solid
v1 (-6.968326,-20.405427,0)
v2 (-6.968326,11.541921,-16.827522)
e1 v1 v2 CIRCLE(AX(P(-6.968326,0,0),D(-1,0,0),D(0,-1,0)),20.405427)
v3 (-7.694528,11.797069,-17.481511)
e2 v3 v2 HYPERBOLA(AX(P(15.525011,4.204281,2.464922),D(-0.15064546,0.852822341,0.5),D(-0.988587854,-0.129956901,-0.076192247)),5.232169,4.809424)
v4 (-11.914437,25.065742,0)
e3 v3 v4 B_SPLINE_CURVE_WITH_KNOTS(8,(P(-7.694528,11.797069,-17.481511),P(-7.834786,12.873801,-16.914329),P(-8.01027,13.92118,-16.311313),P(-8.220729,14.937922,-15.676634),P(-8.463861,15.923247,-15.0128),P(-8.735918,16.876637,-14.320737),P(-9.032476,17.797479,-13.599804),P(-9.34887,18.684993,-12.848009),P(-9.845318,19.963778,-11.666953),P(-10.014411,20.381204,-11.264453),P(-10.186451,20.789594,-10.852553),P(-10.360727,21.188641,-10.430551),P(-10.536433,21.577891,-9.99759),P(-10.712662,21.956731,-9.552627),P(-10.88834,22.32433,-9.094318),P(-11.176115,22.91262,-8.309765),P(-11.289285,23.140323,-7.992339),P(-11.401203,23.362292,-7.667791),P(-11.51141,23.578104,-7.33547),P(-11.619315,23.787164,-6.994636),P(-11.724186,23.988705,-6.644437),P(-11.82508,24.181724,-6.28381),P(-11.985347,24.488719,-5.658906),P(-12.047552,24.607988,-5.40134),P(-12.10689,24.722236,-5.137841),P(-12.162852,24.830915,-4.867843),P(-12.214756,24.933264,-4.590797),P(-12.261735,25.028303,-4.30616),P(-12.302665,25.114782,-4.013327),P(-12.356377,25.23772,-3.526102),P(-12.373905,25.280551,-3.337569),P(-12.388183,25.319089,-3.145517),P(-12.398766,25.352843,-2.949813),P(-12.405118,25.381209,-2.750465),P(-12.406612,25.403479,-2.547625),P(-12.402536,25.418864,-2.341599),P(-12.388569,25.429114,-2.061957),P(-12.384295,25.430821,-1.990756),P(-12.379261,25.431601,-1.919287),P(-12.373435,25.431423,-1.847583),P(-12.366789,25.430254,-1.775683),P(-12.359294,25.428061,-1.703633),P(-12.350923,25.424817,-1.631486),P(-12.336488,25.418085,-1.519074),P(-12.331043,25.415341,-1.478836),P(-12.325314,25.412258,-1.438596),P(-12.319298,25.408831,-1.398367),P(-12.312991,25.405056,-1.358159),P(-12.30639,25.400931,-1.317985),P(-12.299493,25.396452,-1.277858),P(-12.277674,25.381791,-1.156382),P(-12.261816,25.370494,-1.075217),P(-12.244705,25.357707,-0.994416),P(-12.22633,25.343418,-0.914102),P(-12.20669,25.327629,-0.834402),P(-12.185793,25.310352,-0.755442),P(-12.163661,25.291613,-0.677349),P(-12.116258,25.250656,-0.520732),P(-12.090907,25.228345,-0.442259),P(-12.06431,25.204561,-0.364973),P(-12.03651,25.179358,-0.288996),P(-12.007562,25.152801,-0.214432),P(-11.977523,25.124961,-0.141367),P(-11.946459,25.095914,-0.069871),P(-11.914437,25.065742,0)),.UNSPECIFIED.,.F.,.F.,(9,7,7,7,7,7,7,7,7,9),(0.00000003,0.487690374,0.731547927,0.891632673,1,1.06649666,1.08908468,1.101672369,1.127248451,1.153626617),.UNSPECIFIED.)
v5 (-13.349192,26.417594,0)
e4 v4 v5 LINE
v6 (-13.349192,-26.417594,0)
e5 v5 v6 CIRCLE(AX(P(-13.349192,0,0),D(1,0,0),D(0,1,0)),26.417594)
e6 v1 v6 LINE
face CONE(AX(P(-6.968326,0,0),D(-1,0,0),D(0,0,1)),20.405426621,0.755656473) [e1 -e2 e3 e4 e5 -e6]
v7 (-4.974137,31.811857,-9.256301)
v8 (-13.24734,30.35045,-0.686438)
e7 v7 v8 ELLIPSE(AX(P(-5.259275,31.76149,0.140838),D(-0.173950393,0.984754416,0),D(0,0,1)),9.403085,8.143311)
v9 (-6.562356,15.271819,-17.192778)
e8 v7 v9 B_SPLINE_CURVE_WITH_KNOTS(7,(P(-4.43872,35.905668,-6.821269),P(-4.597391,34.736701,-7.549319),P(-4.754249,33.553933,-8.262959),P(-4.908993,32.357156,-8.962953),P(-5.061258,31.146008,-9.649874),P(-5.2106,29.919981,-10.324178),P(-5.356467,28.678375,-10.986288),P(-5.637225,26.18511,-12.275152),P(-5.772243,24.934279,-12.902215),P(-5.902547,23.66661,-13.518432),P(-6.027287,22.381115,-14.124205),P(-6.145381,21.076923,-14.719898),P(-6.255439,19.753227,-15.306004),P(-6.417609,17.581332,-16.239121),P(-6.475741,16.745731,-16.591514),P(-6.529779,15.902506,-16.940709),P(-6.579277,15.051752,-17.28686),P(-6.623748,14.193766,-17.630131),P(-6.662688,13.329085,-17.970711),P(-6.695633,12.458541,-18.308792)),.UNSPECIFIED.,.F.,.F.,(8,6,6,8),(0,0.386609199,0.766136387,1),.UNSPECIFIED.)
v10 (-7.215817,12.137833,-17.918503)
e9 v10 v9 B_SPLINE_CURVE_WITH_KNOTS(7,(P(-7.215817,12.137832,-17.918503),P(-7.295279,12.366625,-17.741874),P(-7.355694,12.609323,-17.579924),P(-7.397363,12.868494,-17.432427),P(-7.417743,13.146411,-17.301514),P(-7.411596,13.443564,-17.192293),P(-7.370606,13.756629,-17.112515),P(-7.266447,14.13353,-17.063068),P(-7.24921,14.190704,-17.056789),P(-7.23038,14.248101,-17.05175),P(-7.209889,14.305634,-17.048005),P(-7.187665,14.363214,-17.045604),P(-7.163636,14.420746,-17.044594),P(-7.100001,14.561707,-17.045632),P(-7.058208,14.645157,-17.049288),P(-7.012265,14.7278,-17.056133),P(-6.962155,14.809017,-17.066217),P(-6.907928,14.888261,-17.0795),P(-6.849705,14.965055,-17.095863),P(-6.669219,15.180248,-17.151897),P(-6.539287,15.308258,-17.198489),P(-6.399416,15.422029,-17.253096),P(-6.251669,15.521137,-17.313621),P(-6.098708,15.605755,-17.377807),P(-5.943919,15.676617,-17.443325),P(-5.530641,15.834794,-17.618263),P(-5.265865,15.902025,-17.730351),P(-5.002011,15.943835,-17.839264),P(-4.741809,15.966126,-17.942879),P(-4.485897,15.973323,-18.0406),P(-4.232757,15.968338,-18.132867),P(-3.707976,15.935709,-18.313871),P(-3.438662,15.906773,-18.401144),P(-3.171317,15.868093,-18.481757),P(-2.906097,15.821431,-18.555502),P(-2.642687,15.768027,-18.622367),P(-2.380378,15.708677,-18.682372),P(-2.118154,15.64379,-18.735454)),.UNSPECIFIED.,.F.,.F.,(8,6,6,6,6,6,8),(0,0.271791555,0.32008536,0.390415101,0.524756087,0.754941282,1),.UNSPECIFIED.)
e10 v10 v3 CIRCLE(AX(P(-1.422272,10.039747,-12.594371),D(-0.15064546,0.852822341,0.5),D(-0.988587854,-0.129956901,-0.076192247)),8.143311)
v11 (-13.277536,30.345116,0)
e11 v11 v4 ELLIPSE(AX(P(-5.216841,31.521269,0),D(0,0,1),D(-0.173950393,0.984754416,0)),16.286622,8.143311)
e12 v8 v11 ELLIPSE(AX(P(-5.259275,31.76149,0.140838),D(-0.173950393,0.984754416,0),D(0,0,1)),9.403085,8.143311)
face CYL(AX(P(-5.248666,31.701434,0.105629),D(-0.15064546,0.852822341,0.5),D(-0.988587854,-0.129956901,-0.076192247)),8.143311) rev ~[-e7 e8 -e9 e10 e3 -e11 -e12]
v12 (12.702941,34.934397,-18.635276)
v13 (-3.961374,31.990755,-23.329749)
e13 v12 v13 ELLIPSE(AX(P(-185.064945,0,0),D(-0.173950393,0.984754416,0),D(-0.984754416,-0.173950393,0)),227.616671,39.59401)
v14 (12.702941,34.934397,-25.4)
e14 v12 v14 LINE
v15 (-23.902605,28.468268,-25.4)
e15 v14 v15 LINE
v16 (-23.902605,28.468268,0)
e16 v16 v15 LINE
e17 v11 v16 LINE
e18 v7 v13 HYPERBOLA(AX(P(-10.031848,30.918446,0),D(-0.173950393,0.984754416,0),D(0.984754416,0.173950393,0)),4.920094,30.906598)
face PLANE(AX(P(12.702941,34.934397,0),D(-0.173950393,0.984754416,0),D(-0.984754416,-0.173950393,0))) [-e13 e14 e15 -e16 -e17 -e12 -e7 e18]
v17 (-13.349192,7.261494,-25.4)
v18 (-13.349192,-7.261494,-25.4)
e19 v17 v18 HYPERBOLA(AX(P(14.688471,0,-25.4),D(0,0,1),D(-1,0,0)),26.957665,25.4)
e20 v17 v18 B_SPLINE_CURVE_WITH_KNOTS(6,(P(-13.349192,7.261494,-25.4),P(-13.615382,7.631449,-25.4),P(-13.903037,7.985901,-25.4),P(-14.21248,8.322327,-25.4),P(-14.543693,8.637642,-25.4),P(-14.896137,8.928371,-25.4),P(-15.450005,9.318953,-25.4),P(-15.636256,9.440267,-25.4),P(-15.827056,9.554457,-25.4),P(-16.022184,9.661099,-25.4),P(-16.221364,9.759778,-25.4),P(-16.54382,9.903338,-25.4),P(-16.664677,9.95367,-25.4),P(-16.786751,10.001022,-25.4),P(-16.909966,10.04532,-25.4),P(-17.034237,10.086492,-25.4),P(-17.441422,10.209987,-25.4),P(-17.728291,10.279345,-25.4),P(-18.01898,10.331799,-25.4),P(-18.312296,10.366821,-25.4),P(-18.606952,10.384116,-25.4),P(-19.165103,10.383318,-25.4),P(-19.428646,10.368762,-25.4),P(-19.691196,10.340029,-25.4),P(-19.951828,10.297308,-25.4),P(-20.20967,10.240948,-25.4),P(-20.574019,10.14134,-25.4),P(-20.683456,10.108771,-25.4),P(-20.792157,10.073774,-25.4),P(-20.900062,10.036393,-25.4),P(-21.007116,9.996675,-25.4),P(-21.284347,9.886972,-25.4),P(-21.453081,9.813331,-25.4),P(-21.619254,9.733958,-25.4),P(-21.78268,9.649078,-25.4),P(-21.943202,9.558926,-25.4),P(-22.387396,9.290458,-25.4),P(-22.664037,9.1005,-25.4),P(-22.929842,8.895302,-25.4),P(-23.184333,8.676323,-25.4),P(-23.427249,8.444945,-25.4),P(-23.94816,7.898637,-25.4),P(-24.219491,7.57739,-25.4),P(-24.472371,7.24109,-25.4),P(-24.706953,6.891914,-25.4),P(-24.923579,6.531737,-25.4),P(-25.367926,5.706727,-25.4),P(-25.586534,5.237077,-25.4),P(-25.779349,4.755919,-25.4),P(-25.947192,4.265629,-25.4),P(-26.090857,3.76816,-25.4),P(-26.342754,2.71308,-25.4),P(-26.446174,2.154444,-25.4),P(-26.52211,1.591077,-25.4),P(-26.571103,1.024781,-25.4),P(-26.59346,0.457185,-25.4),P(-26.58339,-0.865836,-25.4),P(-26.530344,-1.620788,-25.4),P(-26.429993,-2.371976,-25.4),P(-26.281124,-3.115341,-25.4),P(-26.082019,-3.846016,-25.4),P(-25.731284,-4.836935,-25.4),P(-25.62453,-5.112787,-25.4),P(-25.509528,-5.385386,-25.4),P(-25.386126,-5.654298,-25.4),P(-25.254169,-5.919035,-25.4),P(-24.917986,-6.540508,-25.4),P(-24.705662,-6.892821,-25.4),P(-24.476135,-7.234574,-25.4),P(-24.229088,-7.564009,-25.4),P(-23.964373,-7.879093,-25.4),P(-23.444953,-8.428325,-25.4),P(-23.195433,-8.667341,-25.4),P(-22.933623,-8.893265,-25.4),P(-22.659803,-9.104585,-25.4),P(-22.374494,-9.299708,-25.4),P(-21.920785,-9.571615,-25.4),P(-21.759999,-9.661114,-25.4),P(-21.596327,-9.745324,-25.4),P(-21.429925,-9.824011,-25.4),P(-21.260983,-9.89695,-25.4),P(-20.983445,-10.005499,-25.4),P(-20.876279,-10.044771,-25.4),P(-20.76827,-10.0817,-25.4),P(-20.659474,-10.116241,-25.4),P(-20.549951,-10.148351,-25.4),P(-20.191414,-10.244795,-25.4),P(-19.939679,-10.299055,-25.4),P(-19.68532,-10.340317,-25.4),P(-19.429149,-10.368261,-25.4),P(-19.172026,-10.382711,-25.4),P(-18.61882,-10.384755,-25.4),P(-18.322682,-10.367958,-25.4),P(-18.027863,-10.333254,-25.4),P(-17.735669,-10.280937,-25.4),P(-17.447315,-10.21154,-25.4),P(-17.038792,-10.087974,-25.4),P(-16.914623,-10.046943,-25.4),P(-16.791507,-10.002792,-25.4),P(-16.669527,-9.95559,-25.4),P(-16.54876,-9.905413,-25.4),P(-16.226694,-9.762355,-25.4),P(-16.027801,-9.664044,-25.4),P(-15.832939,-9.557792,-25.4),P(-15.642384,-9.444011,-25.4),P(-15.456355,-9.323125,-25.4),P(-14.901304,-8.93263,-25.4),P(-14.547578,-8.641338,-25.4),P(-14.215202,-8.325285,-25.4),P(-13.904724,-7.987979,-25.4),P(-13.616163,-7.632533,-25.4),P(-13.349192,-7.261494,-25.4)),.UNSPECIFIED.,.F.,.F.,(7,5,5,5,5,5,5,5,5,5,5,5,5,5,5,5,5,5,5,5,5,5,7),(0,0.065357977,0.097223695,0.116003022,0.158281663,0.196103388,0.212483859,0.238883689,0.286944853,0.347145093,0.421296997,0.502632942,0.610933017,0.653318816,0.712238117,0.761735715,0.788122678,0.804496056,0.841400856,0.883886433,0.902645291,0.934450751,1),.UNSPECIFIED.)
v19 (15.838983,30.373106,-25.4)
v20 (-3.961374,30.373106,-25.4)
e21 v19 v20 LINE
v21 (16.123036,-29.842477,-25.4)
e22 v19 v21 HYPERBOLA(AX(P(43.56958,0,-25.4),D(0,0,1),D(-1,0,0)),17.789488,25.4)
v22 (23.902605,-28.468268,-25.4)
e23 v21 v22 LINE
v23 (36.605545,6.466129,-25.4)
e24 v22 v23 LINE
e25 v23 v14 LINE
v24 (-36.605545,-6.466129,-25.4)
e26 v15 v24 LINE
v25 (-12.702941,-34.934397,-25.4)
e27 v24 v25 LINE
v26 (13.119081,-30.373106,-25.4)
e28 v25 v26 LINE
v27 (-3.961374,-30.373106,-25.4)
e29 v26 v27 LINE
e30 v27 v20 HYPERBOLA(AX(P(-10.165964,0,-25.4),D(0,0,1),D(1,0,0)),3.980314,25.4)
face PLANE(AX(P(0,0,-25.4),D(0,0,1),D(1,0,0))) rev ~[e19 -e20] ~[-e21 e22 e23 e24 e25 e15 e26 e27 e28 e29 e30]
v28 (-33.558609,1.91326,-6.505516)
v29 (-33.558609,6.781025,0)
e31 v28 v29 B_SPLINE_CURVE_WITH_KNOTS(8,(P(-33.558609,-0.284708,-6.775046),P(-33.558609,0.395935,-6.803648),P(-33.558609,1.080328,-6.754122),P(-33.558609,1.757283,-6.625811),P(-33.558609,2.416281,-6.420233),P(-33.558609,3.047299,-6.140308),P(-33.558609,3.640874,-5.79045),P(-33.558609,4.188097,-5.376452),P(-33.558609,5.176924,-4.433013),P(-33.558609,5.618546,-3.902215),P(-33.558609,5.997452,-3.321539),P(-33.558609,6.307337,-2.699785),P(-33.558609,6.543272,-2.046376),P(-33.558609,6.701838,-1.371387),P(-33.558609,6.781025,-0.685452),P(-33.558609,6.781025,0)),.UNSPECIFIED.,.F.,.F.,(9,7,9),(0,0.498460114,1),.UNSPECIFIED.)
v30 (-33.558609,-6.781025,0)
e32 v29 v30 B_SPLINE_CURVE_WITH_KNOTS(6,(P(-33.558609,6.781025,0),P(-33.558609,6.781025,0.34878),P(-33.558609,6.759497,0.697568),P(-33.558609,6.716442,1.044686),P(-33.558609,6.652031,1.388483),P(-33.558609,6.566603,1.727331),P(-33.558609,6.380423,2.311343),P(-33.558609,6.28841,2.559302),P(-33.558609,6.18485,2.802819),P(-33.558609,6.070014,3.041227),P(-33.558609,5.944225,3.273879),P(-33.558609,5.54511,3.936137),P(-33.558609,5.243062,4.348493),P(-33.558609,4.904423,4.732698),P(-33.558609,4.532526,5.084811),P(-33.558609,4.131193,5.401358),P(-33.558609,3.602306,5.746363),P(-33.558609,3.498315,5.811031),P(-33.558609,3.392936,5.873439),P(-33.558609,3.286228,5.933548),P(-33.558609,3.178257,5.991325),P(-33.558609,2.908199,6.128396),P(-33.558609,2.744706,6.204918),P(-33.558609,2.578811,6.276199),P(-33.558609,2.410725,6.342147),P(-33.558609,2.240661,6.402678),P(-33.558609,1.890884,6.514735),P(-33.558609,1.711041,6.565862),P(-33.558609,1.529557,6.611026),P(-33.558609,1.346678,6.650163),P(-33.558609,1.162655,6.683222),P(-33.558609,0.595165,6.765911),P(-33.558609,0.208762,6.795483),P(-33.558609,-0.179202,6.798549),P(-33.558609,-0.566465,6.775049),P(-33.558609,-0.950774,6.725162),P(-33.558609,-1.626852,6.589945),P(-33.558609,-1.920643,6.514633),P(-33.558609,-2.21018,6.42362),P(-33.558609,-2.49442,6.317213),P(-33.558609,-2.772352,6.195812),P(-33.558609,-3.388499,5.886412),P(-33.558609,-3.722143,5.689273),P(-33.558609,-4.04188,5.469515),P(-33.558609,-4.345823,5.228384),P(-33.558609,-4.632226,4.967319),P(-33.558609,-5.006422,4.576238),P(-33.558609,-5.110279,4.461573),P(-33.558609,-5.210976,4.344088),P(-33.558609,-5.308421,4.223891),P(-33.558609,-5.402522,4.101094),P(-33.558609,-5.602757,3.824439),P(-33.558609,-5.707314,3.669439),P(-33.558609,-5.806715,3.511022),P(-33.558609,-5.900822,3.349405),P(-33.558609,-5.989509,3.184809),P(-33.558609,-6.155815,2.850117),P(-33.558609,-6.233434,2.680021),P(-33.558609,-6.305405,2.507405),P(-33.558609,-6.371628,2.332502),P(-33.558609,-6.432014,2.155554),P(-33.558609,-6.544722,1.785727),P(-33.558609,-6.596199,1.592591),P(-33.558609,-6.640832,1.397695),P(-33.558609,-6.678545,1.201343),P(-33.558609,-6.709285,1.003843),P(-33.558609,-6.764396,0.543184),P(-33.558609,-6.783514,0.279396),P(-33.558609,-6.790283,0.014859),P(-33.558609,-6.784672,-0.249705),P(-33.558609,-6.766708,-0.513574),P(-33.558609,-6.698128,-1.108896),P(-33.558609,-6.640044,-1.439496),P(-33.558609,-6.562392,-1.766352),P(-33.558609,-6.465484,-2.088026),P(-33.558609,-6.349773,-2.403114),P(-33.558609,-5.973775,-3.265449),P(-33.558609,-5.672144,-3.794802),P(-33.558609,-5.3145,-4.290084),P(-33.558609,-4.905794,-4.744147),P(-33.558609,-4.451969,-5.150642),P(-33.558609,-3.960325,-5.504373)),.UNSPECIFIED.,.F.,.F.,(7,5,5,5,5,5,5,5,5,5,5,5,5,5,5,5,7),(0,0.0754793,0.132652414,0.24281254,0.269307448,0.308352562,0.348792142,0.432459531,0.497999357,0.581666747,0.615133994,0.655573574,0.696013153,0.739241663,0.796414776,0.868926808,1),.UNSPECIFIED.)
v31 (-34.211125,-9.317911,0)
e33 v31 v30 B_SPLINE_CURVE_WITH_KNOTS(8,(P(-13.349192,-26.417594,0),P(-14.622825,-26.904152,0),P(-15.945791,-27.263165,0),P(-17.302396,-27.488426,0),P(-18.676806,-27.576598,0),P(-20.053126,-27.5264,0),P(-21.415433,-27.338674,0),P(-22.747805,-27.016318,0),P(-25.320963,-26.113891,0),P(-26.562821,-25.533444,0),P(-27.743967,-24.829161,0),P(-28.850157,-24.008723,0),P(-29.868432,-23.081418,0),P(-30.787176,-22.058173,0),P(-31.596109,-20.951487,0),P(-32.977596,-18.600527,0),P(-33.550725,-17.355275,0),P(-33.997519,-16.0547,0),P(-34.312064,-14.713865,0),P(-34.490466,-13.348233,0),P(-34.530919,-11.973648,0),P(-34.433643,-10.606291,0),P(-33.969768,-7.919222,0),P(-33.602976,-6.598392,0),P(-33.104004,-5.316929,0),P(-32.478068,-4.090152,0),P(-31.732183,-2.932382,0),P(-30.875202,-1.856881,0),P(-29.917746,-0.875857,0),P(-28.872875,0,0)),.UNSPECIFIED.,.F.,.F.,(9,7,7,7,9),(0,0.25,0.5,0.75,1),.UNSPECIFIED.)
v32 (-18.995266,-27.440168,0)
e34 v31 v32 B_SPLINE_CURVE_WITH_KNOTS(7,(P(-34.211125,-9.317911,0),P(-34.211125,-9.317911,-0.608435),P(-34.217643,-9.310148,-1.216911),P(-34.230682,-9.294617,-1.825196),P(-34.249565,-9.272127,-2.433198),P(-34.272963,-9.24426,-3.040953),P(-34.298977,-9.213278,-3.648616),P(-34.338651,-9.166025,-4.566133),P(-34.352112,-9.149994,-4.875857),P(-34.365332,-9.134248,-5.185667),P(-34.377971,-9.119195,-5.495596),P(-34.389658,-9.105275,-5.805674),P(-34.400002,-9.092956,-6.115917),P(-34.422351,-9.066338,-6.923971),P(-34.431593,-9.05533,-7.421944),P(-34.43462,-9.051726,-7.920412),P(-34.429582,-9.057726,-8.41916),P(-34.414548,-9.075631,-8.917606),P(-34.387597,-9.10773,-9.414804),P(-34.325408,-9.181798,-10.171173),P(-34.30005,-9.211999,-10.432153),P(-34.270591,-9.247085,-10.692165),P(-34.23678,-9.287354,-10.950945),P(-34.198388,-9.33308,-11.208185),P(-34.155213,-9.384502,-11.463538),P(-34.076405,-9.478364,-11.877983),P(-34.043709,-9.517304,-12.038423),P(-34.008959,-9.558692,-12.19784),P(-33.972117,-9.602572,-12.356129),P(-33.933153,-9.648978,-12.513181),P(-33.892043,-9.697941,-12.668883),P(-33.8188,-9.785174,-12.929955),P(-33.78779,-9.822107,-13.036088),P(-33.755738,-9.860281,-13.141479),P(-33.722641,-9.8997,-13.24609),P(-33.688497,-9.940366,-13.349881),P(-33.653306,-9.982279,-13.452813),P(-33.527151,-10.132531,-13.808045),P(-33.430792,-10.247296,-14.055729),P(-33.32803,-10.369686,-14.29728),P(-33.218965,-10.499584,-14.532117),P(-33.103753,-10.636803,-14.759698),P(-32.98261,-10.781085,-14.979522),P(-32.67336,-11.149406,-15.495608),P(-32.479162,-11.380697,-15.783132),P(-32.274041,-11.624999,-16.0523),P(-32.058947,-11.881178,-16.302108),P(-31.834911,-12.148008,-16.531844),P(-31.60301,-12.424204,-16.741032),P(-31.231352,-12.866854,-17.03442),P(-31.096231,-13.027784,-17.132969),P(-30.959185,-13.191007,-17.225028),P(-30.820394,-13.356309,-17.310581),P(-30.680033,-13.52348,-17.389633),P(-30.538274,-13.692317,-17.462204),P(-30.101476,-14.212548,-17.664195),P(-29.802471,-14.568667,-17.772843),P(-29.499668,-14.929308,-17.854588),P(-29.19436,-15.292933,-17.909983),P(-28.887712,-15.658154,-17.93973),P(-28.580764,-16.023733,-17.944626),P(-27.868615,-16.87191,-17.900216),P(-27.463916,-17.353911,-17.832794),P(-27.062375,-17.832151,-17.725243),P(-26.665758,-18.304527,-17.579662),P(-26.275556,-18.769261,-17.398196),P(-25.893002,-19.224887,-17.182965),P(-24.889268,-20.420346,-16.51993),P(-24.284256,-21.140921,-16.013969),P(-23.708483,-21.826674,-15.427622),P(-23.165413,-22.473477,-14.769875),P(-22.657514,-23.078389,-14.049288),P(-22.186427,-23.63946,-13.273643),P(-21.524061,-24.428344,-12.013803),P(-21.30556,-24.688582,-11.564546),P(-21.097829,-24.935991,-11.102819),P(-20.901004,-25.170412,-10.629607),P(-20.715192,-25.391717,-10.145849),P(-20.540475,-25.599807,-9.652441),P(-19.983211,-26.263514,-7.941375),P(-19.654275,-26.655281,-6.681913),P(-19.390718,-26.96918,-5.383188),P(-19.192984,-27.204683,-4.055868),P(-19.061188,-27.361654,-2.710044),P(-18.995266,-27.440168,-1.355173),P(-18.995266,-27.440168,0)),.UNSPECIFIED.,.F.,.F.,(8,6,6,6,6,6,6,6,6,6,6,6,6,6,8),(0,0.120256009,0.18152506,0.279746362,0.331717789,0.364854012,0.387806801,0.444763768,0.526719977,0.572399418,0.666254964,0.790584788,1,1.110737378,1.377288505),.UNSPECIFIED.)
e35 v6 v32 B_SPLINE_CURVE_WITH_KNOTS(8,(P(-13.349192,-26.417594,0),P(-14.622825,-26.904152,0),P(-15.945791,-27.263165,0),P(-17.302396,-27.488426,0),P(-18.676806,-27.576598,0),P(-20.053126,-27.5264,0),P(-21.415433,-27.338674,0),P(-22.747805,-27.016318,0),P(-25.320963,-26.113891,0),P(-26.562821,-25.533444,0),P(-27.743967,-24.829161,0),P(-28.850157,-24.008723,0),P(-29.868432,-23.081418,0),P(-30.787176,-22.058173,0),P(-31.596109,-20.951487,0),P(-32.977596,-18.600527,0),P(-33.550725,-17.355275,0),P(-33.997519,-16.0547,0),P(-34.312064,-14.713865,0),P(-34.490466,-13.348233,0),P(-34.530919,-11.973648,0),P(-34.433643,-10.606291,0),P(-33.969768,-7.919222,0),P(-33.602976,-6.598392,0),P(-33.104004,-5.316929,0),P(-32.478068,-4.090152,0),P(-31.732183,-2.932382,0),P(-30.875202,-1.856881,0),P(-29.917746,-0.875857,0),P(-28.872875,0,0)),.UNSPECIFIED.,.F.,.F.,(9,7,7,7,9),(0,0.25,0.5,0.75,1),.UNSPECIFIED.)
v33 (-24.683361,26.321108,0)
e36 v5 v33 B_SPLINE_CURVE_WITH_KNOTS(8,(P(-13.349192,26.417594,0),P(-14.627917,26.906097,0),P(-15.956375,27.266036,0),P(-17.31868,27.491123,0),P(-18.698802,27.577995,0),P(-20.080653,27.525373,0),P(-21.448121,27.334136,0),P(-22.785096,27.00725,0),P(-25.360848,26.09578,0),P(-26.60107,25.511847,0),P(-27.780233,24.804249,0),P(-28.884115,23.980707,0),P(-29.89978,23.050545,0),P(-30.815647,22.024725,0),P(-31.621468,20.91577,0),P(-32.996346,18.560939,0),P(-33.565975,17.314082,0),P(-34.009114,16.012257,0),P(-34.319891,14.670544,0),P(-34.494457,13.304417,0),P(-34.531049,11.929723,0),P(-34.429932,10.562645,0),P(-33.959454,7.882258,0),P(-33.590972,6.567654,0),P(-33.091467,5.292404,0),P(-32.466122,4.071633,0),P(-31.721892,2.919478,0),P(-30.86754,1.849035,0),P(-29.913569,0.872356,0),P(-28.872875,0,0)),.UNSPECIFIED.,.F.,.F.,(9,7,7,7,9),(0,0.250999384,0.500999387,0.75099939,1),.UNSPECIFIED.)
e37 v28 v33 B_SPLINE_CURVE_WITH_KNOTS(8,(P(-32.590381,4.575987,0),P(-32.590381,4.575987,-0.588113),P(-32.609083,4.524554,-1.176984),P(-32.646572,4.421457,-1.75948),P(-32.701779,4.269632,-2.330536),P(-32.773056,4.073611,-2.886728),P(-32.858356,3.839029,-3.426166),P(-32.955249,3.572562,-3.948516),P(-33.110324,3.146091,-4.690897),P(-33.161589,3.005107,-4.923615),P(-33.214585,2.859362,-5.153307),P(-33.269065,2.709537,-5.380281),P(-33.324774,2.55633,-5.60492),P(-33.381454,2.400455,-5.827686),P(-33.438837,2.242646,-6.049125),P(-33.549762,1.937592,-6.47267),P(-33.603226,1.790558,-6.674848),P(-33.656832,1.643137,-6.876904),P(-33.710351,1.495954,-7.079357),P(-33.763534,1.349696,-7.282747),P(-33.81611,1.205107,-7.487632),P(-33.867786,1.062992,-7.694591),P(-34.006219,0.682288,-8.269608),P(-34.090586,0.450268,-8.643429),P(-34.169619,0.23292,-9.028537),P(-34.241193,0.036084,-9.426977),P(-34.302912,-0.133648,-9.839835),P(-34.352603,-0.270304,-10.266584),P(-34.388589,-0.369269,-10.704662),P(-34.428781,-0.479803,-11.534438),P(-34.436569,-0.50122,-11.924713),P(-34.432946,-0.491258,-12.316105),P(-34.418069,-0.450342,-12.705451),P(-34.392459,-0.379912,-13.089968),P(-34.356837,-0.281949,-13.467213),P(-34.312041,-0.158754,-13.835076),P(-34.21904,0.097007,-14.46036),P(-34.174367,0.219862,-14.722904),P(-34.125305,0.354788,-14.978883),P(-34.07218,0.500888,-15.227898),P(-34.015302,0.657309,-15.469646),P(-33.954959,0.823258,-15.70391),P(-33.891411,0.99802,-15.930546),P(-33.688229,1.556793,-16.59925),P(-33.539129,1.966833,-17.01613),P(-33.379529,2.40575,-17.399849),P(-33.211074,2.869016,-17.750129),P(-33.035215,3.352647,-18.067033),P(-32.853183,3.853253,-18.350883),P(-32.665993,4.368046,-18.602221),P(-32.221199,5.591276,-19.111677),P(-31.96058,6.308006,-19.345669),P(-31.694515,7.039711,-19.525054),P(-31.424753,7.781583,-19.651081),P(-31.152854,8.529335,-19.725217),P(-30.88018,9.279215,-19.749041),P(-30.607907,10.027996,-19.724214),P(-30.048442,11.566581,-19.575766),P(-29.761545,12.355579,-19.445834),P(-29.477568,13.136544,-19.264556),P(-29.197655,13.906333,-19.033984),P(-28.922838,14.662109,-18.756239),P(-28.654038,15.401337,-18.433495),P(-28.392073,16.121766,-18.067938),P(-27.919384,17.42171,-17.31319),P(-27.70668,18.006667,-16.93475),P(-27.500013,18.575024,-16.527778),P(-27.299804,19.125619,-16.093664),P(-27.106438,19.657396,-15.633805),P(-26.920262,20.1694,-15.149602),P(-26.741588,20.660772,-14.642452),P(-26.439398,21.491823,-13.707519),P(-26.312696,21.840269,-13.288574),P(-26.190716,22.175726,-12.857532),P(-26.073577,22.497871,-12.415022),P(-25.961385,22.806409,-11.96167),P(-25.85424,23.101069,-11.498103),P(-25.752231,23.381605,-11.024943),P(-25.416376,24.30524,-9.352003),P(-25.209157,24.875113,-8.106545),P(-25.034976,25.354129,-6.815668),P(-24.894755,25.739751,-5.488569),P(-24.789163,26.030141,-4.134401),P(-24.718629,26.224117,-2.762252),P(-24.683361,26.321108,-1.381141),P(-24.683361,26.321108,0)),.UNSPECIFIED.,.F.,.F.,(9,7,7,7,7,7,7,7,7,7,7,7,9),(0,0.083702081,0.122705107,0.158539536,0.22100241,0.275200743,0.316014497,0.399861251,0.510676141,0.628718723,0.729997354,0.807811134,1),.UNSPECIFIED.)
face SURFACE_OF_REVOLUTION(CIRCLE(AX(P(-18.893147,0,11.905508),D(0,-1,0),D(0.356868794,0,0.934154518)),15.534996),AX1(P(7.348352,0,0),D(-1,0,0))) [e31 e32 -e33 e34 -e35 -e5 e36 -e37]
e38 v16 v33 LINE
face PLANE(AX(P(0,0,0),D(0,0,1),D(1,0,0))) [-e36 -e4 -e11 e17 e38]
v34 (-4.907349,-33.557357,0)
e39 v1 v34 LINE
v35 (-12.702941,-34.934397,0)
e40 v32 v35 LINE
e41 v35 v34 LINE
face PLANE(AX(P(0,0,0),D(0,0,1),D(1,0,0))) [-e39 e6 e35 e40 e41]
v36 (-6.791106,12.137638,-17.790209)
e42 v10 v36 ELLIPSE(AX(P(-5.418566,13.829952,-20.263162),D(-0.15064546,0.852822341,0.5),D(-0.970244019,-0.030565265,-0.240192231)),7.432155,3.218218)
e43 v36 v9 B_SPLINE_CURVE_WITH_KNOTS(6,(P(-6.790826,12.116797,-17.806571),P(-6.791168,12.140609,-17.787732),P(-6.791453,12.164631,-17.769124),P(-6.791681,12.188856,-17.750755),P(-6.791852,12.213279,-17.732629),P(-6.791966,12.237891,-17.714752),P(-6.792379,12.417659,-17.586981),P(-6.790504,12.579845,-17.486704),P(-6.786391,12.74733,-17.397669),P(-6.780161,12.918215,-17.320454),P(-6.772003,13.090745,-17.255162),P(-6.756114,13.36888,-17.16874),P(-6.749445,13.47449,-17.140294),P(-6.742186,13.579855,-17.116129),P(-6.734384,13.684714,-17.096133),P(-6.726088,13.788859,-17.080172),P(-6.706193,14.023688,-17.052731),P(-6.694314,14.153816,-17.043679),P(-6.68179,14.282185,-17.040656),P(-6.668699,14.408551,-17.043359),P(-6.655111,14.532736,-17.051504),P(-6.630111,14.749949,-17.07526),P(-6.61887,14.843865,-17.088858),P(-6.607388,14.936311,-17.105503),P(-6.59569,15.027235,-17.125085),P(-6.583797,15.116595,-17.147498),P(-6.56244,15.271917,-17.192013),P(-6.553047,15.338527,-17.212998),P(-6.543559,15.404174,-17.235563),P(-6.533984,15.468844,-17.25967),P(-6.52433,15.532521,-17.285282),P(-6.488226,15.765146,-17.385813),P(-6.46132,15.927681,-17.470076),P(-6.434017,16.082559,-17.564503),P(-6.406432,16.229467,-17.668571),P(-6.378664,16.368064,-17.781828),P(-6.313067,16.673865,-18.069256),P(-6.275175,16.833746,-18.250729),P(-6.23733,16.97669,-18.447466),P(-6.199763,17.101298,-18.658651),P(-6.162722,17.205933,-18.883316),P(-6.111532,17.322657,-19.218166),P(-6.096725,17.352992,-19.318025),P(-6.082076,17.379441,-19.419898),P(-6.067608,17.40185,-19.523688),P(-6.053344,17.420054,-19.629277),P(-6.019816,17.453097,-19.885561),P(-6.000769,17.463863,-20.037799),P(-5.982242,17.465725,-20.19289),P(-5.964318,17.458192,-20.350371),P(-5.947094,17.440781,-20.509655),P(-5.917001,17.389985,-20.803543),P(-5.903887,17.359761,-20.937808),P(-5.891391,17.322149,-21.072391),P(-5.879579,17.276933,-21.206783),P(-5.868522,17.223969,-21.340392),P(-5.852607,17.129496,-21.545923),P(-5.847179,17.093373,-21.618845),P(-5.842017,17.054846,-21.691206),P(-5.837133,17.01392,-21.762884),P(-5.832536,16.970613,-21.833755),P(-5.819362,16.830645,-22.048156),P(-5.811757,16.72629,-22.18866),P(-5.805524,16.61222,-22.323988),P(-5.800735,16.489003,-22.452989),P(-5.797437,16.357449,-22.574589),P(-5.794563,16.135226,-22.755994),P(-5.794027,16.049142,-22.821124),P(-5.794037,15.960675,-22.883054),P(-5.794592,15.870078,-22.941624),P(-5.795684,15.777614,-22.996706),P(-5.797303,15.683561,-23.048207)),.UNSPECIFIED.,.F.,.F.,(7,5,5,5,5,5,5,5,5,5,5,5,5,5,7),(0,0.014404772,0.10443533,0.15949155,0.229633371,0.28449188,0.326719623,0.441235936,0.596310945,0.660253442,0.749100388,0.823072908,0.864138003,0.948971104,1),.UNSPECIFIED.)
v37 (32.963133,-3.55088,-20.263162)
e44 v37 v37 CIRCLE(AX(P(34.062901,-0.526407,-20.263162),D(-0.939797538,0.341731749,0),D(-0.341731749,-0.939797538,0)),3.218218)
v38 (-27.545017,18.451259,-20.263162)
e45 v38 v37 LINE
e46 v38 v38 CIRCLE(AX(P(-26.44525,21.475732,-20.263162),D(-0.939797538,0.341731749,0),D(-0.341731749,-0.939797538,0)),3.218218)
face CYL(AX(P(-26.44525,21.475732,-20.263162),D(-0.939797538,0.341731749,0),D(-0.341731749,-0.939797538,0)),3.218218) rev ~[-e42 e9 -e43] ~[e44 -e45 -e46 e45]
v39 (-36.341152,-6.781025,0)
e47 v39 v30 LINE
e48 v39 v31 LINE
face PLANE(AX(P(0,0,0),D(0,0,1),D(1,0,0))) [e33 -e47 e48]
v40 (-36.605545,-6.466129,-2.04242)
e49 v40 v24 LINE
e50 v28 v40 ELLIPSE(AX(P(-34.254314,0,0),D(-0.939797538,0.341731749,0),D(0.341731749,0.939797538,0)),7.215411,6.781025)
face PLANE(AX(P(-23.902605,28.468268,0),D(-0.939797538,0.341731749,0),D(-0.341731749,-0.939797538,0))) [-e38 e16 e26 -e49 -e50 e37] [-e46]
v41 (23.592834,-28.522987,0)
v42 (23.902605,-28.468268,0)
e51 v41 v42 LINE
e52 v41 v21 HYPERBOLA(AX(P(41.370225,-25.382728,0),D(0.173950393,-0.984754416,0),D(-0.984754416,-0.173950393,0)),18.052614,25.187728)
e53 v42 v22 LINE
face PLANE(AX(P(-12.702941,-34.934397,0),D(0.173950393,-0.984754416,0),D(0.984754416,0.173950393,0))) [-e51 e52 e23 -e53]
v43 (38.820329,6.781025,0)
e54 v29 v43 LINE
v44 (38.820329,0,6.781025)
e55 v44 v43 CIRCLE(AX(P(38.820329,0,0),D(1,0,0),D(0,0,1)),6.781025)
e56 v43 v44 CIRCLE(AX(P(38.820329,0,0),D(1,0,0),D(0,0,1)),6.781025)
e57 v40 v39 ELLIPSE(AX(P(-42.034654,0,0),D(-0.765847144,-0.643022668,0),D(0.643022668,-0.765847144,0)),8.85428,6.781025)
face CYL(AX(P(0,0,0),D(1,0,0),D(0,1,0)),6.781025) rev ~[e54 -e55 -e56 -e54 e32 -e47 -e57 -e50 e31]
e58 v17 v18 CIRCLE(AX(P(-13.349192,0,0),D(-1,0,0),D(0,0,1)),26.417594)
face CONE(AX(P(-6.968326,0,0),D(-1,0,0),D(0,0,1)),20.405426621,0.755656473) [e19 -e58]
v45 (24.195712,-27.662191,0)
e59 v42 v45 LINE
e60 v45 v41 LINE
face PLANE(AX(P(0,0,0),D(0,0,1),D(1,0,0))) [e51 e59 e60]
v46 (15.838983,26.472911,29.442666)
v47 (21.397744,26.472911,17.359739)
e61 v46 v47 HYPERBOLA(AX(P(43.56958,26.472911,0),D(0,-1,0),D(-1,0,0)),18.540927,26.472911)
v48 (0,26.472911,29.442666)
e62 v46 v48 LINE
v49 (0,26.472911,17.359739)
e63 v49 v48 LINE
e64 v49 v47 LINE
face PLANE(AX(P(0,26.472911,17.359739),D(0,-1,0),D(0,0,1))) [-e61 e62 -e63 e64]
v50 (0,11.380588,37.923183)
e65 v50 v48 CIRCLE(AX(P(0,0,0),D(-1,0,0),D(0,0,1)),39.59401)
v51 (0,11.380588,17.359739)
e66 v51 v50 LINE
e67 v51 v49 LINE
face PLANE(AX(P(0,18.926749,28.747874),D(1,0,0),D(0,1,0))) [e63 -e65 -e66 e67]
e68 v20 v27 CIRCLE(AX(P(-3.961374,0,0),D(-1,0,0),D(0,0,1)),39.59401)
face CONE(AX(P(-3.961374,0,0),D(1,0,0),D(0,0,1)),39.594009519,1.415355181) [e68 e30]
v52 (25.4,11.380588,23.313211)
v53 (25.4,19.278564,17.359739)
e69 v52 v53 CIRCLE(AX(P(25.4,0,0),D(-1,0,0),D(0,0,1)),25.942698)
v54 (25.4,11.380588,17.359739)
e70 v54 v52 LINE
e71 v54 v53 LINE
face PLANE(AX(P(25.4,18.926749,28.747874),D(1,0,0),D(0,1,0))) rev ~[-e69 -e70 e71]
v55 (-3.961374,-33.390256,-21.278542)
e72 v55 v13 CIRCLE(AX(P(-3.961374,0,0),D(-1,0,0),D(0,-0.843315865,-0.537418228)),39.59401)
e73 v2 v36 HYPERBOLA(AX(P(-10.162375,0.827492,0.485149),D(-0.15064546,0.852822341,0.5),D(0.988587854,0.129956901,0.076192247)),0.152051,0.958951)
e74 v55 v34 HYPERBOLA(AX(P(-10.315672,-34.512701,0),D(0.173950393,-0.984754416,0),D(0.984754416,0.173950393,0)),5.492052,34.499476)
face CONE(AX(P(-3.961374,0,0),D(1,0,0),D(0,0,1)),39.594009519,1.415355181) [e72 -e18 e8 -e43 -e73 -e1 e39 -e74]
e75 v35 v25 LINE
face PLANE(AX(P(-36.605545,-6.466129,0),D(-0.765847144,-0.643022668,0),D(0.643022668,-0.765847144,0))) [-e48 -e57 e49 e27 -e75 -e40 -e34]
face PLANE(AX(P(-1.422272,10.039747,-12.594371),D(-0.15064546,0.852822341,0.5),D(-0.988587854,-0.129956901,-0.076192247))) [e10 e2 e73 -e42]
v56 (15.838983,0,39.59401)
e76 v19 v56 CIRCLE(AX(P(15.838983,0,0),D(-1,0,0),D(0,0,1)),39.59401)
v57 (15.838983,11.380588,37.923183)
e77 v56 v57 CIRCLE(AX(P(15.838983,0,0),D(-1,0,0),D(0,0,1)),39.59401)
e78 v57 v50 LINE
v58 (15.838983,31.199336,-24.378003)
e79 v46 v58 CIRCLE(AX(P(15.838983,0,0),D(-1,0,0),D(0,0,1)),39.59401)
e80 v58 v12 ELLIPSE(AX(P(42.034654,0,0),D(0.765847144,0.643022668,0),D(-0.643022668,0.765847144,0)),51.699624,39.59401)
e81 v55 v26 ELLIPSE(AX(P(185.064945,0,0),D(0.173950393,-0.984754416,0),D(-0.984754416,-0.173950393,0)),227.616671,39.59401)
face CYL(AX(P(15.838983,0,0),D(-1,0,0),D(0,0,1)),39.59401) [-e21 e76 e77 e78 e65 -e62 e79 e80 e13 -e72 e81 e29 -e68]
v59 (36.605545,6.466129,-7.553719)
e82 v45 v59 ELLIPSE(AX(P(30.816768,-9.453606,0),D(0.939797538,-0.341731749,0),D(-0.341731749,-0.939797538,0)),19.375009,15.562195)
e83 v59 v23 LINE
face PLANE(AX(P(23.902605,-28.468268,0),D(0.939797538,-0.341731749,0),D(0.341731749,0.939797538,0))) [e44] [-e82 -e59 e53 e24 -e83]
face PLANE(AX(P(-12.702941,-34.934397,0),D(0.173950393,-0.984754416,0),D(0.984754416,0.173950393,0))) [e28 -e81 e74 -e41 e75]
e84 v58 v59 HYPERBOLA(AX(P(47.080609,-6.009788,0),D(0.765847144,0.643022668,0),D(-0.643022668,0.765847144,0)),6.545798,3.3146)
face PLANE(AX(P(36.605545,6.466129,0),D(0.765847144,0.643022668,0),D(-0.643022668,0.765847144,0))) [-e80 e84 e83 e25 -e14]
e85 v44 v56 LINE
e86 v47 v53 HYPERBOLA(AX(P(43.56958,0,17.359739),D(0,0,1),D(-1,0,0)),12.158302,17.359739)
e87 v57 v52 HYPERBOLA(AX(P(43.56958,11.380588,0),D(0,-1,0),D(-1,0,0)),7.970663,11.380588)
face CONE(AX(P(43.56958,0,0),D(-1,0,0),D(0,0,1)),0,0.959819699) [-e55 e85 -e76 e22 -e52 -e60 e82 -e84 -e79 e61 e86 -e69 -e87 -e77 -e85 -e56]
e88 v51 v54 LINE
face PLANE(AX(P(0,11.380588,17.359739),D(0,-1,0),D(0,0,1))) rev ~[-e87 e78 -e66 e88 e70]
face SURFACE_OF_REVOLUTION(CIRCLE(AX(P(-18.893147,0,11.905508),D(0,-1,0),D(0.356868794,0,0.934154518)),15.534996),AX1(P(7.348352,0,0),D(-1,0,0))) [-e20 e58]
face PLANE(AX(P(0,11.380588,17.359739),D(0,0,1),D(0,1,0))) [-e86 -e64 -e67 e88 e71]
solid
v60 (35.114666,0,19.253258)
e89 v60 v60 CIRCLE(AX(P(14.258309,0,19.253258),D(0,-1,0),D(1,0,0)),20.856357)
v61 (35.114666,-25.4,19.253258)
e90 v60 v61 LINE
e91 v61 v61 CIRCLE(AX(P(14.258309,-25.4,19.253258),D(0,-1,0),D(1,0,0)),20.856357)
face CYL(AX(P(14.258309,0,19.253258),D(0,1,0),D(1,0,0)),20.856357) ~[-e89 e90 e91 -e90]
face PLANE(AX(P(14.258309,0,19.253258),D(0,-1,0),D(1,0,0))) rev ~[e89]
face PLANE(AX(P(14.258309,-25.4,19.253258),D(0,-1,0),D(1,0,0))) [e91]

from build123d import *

# Parameters (mm, degrees)
F2_DEPTH  = 25.4
F3_R      = 8.143310864
F4_DEPTH  = 25.4
F7_R      = 6.7810250719
F8_DEPTH  = 76.2
F9_R      = 3.2182175961
F10_DEPTH = 68.326
F11_W     = 15.0923235342
F11_H     = 22.7762702852
F12_DEPTH = 25.4
F13_R     = 20.8563565083
F14_DEPTH = 25.4


with BuildPart() as f2:
    # F0 (on Top) → F2 (new body)
    with BuildSketch(Plane.XY):
        Polygon((36.6055454756, 6.4661289451), (12.7029408072, 34.9343967738), (-23.9026046684, 28.4682678287), (-36.6055454756, -6.4661289451), (-12.7029408072, -34.9343967738), (23.9026046684, -28.4682678287), align=None)
    extrude(amount=-F2_DEPTH)

    # F3 (on line) → F4 (cut)
    with BuildSketch(Plane(origin=(-4.199873948, 23.775999226, 13.9395968422), x_dir=(-0.9885878542, -0.1299569007, -0.0761922469), z_dir=(-0.1506454597, 0.8528223411, 0.5))):
        with Locations((1.0608994635, -15.9425735474)):
            Circle(F3_R)
    extrude(amount=-F4_DEPTH, mode=Mode.SUBTRACT)

    # F5 (on Front) → F6 (revolve)
    with BuildSketch(Plane.XZ):
        with BuildLine():
            Line((-6.9683259353, 20.4054266214), (-13.349192217, 26.417594403))
            ThreePointArc((-13.349192217, 26.417594403), (-32.286852793, 19.7760065738), (-28.8728754967, 0))
            Line((-28.8728754967, 0), (43.5695797205, 0))
            Line((43.5695797205, 0), (15.8389825374, 39.5940095186))
            Line((15.8389825374, 39.5940095186), (-3.9613735862, 39.5940095186))
            Line((-3.9613735862, 39.5940095186), (-6.9683259353, 20.4054266214))
        make_face()
    revolve(axis=Axis((7.3483521119, 0, 0), (-1, 0, 0)))

    # F7 (on Right) → F8 (cut, symmetric)
    with BuildSketch(Plane.YZ):
        Circle(F7_R)
    extrude(amount=F8_DEPTH, both=True, mode=Mode.SUBTRACT)

    # F9 (on face) → F10 (cut)
    with BuildSketch(Plane(origin=(-30.254075072, 11.0010694418, 0), x_dir=(-0.3417317485, -0.9397975378, 0), z_dir=(-0.9397975378, 0.3417317485, 0))):
        with Locations((-11.1456587911, -20.2631615102)):
            Circle(F9_R)
    extrude(amount=-F10_DEPTH, mode=Mode.SUBTRACT)

    # F11 (on Right) → F12 (cut)
    with BuildSketch(Plane.YZ):
        with Locations((18.9267494716, 28.7478743121)):
            Rectangle(F11_W, F11_H)
    extrude(amount=F12_DEPTH, mode=Mode.SUBTRACT)


with BuildPart() as f14:
    # F13 (on Front) → F14 (new body)
    with BuildSketch(Plane.XZ):
        with Locations((14.2583092675, 19.2532576621)):
            Circle(F13_R)
    extrude(amount=F14_DEPTH)


solid = Compound([f2.part, f14.part])
